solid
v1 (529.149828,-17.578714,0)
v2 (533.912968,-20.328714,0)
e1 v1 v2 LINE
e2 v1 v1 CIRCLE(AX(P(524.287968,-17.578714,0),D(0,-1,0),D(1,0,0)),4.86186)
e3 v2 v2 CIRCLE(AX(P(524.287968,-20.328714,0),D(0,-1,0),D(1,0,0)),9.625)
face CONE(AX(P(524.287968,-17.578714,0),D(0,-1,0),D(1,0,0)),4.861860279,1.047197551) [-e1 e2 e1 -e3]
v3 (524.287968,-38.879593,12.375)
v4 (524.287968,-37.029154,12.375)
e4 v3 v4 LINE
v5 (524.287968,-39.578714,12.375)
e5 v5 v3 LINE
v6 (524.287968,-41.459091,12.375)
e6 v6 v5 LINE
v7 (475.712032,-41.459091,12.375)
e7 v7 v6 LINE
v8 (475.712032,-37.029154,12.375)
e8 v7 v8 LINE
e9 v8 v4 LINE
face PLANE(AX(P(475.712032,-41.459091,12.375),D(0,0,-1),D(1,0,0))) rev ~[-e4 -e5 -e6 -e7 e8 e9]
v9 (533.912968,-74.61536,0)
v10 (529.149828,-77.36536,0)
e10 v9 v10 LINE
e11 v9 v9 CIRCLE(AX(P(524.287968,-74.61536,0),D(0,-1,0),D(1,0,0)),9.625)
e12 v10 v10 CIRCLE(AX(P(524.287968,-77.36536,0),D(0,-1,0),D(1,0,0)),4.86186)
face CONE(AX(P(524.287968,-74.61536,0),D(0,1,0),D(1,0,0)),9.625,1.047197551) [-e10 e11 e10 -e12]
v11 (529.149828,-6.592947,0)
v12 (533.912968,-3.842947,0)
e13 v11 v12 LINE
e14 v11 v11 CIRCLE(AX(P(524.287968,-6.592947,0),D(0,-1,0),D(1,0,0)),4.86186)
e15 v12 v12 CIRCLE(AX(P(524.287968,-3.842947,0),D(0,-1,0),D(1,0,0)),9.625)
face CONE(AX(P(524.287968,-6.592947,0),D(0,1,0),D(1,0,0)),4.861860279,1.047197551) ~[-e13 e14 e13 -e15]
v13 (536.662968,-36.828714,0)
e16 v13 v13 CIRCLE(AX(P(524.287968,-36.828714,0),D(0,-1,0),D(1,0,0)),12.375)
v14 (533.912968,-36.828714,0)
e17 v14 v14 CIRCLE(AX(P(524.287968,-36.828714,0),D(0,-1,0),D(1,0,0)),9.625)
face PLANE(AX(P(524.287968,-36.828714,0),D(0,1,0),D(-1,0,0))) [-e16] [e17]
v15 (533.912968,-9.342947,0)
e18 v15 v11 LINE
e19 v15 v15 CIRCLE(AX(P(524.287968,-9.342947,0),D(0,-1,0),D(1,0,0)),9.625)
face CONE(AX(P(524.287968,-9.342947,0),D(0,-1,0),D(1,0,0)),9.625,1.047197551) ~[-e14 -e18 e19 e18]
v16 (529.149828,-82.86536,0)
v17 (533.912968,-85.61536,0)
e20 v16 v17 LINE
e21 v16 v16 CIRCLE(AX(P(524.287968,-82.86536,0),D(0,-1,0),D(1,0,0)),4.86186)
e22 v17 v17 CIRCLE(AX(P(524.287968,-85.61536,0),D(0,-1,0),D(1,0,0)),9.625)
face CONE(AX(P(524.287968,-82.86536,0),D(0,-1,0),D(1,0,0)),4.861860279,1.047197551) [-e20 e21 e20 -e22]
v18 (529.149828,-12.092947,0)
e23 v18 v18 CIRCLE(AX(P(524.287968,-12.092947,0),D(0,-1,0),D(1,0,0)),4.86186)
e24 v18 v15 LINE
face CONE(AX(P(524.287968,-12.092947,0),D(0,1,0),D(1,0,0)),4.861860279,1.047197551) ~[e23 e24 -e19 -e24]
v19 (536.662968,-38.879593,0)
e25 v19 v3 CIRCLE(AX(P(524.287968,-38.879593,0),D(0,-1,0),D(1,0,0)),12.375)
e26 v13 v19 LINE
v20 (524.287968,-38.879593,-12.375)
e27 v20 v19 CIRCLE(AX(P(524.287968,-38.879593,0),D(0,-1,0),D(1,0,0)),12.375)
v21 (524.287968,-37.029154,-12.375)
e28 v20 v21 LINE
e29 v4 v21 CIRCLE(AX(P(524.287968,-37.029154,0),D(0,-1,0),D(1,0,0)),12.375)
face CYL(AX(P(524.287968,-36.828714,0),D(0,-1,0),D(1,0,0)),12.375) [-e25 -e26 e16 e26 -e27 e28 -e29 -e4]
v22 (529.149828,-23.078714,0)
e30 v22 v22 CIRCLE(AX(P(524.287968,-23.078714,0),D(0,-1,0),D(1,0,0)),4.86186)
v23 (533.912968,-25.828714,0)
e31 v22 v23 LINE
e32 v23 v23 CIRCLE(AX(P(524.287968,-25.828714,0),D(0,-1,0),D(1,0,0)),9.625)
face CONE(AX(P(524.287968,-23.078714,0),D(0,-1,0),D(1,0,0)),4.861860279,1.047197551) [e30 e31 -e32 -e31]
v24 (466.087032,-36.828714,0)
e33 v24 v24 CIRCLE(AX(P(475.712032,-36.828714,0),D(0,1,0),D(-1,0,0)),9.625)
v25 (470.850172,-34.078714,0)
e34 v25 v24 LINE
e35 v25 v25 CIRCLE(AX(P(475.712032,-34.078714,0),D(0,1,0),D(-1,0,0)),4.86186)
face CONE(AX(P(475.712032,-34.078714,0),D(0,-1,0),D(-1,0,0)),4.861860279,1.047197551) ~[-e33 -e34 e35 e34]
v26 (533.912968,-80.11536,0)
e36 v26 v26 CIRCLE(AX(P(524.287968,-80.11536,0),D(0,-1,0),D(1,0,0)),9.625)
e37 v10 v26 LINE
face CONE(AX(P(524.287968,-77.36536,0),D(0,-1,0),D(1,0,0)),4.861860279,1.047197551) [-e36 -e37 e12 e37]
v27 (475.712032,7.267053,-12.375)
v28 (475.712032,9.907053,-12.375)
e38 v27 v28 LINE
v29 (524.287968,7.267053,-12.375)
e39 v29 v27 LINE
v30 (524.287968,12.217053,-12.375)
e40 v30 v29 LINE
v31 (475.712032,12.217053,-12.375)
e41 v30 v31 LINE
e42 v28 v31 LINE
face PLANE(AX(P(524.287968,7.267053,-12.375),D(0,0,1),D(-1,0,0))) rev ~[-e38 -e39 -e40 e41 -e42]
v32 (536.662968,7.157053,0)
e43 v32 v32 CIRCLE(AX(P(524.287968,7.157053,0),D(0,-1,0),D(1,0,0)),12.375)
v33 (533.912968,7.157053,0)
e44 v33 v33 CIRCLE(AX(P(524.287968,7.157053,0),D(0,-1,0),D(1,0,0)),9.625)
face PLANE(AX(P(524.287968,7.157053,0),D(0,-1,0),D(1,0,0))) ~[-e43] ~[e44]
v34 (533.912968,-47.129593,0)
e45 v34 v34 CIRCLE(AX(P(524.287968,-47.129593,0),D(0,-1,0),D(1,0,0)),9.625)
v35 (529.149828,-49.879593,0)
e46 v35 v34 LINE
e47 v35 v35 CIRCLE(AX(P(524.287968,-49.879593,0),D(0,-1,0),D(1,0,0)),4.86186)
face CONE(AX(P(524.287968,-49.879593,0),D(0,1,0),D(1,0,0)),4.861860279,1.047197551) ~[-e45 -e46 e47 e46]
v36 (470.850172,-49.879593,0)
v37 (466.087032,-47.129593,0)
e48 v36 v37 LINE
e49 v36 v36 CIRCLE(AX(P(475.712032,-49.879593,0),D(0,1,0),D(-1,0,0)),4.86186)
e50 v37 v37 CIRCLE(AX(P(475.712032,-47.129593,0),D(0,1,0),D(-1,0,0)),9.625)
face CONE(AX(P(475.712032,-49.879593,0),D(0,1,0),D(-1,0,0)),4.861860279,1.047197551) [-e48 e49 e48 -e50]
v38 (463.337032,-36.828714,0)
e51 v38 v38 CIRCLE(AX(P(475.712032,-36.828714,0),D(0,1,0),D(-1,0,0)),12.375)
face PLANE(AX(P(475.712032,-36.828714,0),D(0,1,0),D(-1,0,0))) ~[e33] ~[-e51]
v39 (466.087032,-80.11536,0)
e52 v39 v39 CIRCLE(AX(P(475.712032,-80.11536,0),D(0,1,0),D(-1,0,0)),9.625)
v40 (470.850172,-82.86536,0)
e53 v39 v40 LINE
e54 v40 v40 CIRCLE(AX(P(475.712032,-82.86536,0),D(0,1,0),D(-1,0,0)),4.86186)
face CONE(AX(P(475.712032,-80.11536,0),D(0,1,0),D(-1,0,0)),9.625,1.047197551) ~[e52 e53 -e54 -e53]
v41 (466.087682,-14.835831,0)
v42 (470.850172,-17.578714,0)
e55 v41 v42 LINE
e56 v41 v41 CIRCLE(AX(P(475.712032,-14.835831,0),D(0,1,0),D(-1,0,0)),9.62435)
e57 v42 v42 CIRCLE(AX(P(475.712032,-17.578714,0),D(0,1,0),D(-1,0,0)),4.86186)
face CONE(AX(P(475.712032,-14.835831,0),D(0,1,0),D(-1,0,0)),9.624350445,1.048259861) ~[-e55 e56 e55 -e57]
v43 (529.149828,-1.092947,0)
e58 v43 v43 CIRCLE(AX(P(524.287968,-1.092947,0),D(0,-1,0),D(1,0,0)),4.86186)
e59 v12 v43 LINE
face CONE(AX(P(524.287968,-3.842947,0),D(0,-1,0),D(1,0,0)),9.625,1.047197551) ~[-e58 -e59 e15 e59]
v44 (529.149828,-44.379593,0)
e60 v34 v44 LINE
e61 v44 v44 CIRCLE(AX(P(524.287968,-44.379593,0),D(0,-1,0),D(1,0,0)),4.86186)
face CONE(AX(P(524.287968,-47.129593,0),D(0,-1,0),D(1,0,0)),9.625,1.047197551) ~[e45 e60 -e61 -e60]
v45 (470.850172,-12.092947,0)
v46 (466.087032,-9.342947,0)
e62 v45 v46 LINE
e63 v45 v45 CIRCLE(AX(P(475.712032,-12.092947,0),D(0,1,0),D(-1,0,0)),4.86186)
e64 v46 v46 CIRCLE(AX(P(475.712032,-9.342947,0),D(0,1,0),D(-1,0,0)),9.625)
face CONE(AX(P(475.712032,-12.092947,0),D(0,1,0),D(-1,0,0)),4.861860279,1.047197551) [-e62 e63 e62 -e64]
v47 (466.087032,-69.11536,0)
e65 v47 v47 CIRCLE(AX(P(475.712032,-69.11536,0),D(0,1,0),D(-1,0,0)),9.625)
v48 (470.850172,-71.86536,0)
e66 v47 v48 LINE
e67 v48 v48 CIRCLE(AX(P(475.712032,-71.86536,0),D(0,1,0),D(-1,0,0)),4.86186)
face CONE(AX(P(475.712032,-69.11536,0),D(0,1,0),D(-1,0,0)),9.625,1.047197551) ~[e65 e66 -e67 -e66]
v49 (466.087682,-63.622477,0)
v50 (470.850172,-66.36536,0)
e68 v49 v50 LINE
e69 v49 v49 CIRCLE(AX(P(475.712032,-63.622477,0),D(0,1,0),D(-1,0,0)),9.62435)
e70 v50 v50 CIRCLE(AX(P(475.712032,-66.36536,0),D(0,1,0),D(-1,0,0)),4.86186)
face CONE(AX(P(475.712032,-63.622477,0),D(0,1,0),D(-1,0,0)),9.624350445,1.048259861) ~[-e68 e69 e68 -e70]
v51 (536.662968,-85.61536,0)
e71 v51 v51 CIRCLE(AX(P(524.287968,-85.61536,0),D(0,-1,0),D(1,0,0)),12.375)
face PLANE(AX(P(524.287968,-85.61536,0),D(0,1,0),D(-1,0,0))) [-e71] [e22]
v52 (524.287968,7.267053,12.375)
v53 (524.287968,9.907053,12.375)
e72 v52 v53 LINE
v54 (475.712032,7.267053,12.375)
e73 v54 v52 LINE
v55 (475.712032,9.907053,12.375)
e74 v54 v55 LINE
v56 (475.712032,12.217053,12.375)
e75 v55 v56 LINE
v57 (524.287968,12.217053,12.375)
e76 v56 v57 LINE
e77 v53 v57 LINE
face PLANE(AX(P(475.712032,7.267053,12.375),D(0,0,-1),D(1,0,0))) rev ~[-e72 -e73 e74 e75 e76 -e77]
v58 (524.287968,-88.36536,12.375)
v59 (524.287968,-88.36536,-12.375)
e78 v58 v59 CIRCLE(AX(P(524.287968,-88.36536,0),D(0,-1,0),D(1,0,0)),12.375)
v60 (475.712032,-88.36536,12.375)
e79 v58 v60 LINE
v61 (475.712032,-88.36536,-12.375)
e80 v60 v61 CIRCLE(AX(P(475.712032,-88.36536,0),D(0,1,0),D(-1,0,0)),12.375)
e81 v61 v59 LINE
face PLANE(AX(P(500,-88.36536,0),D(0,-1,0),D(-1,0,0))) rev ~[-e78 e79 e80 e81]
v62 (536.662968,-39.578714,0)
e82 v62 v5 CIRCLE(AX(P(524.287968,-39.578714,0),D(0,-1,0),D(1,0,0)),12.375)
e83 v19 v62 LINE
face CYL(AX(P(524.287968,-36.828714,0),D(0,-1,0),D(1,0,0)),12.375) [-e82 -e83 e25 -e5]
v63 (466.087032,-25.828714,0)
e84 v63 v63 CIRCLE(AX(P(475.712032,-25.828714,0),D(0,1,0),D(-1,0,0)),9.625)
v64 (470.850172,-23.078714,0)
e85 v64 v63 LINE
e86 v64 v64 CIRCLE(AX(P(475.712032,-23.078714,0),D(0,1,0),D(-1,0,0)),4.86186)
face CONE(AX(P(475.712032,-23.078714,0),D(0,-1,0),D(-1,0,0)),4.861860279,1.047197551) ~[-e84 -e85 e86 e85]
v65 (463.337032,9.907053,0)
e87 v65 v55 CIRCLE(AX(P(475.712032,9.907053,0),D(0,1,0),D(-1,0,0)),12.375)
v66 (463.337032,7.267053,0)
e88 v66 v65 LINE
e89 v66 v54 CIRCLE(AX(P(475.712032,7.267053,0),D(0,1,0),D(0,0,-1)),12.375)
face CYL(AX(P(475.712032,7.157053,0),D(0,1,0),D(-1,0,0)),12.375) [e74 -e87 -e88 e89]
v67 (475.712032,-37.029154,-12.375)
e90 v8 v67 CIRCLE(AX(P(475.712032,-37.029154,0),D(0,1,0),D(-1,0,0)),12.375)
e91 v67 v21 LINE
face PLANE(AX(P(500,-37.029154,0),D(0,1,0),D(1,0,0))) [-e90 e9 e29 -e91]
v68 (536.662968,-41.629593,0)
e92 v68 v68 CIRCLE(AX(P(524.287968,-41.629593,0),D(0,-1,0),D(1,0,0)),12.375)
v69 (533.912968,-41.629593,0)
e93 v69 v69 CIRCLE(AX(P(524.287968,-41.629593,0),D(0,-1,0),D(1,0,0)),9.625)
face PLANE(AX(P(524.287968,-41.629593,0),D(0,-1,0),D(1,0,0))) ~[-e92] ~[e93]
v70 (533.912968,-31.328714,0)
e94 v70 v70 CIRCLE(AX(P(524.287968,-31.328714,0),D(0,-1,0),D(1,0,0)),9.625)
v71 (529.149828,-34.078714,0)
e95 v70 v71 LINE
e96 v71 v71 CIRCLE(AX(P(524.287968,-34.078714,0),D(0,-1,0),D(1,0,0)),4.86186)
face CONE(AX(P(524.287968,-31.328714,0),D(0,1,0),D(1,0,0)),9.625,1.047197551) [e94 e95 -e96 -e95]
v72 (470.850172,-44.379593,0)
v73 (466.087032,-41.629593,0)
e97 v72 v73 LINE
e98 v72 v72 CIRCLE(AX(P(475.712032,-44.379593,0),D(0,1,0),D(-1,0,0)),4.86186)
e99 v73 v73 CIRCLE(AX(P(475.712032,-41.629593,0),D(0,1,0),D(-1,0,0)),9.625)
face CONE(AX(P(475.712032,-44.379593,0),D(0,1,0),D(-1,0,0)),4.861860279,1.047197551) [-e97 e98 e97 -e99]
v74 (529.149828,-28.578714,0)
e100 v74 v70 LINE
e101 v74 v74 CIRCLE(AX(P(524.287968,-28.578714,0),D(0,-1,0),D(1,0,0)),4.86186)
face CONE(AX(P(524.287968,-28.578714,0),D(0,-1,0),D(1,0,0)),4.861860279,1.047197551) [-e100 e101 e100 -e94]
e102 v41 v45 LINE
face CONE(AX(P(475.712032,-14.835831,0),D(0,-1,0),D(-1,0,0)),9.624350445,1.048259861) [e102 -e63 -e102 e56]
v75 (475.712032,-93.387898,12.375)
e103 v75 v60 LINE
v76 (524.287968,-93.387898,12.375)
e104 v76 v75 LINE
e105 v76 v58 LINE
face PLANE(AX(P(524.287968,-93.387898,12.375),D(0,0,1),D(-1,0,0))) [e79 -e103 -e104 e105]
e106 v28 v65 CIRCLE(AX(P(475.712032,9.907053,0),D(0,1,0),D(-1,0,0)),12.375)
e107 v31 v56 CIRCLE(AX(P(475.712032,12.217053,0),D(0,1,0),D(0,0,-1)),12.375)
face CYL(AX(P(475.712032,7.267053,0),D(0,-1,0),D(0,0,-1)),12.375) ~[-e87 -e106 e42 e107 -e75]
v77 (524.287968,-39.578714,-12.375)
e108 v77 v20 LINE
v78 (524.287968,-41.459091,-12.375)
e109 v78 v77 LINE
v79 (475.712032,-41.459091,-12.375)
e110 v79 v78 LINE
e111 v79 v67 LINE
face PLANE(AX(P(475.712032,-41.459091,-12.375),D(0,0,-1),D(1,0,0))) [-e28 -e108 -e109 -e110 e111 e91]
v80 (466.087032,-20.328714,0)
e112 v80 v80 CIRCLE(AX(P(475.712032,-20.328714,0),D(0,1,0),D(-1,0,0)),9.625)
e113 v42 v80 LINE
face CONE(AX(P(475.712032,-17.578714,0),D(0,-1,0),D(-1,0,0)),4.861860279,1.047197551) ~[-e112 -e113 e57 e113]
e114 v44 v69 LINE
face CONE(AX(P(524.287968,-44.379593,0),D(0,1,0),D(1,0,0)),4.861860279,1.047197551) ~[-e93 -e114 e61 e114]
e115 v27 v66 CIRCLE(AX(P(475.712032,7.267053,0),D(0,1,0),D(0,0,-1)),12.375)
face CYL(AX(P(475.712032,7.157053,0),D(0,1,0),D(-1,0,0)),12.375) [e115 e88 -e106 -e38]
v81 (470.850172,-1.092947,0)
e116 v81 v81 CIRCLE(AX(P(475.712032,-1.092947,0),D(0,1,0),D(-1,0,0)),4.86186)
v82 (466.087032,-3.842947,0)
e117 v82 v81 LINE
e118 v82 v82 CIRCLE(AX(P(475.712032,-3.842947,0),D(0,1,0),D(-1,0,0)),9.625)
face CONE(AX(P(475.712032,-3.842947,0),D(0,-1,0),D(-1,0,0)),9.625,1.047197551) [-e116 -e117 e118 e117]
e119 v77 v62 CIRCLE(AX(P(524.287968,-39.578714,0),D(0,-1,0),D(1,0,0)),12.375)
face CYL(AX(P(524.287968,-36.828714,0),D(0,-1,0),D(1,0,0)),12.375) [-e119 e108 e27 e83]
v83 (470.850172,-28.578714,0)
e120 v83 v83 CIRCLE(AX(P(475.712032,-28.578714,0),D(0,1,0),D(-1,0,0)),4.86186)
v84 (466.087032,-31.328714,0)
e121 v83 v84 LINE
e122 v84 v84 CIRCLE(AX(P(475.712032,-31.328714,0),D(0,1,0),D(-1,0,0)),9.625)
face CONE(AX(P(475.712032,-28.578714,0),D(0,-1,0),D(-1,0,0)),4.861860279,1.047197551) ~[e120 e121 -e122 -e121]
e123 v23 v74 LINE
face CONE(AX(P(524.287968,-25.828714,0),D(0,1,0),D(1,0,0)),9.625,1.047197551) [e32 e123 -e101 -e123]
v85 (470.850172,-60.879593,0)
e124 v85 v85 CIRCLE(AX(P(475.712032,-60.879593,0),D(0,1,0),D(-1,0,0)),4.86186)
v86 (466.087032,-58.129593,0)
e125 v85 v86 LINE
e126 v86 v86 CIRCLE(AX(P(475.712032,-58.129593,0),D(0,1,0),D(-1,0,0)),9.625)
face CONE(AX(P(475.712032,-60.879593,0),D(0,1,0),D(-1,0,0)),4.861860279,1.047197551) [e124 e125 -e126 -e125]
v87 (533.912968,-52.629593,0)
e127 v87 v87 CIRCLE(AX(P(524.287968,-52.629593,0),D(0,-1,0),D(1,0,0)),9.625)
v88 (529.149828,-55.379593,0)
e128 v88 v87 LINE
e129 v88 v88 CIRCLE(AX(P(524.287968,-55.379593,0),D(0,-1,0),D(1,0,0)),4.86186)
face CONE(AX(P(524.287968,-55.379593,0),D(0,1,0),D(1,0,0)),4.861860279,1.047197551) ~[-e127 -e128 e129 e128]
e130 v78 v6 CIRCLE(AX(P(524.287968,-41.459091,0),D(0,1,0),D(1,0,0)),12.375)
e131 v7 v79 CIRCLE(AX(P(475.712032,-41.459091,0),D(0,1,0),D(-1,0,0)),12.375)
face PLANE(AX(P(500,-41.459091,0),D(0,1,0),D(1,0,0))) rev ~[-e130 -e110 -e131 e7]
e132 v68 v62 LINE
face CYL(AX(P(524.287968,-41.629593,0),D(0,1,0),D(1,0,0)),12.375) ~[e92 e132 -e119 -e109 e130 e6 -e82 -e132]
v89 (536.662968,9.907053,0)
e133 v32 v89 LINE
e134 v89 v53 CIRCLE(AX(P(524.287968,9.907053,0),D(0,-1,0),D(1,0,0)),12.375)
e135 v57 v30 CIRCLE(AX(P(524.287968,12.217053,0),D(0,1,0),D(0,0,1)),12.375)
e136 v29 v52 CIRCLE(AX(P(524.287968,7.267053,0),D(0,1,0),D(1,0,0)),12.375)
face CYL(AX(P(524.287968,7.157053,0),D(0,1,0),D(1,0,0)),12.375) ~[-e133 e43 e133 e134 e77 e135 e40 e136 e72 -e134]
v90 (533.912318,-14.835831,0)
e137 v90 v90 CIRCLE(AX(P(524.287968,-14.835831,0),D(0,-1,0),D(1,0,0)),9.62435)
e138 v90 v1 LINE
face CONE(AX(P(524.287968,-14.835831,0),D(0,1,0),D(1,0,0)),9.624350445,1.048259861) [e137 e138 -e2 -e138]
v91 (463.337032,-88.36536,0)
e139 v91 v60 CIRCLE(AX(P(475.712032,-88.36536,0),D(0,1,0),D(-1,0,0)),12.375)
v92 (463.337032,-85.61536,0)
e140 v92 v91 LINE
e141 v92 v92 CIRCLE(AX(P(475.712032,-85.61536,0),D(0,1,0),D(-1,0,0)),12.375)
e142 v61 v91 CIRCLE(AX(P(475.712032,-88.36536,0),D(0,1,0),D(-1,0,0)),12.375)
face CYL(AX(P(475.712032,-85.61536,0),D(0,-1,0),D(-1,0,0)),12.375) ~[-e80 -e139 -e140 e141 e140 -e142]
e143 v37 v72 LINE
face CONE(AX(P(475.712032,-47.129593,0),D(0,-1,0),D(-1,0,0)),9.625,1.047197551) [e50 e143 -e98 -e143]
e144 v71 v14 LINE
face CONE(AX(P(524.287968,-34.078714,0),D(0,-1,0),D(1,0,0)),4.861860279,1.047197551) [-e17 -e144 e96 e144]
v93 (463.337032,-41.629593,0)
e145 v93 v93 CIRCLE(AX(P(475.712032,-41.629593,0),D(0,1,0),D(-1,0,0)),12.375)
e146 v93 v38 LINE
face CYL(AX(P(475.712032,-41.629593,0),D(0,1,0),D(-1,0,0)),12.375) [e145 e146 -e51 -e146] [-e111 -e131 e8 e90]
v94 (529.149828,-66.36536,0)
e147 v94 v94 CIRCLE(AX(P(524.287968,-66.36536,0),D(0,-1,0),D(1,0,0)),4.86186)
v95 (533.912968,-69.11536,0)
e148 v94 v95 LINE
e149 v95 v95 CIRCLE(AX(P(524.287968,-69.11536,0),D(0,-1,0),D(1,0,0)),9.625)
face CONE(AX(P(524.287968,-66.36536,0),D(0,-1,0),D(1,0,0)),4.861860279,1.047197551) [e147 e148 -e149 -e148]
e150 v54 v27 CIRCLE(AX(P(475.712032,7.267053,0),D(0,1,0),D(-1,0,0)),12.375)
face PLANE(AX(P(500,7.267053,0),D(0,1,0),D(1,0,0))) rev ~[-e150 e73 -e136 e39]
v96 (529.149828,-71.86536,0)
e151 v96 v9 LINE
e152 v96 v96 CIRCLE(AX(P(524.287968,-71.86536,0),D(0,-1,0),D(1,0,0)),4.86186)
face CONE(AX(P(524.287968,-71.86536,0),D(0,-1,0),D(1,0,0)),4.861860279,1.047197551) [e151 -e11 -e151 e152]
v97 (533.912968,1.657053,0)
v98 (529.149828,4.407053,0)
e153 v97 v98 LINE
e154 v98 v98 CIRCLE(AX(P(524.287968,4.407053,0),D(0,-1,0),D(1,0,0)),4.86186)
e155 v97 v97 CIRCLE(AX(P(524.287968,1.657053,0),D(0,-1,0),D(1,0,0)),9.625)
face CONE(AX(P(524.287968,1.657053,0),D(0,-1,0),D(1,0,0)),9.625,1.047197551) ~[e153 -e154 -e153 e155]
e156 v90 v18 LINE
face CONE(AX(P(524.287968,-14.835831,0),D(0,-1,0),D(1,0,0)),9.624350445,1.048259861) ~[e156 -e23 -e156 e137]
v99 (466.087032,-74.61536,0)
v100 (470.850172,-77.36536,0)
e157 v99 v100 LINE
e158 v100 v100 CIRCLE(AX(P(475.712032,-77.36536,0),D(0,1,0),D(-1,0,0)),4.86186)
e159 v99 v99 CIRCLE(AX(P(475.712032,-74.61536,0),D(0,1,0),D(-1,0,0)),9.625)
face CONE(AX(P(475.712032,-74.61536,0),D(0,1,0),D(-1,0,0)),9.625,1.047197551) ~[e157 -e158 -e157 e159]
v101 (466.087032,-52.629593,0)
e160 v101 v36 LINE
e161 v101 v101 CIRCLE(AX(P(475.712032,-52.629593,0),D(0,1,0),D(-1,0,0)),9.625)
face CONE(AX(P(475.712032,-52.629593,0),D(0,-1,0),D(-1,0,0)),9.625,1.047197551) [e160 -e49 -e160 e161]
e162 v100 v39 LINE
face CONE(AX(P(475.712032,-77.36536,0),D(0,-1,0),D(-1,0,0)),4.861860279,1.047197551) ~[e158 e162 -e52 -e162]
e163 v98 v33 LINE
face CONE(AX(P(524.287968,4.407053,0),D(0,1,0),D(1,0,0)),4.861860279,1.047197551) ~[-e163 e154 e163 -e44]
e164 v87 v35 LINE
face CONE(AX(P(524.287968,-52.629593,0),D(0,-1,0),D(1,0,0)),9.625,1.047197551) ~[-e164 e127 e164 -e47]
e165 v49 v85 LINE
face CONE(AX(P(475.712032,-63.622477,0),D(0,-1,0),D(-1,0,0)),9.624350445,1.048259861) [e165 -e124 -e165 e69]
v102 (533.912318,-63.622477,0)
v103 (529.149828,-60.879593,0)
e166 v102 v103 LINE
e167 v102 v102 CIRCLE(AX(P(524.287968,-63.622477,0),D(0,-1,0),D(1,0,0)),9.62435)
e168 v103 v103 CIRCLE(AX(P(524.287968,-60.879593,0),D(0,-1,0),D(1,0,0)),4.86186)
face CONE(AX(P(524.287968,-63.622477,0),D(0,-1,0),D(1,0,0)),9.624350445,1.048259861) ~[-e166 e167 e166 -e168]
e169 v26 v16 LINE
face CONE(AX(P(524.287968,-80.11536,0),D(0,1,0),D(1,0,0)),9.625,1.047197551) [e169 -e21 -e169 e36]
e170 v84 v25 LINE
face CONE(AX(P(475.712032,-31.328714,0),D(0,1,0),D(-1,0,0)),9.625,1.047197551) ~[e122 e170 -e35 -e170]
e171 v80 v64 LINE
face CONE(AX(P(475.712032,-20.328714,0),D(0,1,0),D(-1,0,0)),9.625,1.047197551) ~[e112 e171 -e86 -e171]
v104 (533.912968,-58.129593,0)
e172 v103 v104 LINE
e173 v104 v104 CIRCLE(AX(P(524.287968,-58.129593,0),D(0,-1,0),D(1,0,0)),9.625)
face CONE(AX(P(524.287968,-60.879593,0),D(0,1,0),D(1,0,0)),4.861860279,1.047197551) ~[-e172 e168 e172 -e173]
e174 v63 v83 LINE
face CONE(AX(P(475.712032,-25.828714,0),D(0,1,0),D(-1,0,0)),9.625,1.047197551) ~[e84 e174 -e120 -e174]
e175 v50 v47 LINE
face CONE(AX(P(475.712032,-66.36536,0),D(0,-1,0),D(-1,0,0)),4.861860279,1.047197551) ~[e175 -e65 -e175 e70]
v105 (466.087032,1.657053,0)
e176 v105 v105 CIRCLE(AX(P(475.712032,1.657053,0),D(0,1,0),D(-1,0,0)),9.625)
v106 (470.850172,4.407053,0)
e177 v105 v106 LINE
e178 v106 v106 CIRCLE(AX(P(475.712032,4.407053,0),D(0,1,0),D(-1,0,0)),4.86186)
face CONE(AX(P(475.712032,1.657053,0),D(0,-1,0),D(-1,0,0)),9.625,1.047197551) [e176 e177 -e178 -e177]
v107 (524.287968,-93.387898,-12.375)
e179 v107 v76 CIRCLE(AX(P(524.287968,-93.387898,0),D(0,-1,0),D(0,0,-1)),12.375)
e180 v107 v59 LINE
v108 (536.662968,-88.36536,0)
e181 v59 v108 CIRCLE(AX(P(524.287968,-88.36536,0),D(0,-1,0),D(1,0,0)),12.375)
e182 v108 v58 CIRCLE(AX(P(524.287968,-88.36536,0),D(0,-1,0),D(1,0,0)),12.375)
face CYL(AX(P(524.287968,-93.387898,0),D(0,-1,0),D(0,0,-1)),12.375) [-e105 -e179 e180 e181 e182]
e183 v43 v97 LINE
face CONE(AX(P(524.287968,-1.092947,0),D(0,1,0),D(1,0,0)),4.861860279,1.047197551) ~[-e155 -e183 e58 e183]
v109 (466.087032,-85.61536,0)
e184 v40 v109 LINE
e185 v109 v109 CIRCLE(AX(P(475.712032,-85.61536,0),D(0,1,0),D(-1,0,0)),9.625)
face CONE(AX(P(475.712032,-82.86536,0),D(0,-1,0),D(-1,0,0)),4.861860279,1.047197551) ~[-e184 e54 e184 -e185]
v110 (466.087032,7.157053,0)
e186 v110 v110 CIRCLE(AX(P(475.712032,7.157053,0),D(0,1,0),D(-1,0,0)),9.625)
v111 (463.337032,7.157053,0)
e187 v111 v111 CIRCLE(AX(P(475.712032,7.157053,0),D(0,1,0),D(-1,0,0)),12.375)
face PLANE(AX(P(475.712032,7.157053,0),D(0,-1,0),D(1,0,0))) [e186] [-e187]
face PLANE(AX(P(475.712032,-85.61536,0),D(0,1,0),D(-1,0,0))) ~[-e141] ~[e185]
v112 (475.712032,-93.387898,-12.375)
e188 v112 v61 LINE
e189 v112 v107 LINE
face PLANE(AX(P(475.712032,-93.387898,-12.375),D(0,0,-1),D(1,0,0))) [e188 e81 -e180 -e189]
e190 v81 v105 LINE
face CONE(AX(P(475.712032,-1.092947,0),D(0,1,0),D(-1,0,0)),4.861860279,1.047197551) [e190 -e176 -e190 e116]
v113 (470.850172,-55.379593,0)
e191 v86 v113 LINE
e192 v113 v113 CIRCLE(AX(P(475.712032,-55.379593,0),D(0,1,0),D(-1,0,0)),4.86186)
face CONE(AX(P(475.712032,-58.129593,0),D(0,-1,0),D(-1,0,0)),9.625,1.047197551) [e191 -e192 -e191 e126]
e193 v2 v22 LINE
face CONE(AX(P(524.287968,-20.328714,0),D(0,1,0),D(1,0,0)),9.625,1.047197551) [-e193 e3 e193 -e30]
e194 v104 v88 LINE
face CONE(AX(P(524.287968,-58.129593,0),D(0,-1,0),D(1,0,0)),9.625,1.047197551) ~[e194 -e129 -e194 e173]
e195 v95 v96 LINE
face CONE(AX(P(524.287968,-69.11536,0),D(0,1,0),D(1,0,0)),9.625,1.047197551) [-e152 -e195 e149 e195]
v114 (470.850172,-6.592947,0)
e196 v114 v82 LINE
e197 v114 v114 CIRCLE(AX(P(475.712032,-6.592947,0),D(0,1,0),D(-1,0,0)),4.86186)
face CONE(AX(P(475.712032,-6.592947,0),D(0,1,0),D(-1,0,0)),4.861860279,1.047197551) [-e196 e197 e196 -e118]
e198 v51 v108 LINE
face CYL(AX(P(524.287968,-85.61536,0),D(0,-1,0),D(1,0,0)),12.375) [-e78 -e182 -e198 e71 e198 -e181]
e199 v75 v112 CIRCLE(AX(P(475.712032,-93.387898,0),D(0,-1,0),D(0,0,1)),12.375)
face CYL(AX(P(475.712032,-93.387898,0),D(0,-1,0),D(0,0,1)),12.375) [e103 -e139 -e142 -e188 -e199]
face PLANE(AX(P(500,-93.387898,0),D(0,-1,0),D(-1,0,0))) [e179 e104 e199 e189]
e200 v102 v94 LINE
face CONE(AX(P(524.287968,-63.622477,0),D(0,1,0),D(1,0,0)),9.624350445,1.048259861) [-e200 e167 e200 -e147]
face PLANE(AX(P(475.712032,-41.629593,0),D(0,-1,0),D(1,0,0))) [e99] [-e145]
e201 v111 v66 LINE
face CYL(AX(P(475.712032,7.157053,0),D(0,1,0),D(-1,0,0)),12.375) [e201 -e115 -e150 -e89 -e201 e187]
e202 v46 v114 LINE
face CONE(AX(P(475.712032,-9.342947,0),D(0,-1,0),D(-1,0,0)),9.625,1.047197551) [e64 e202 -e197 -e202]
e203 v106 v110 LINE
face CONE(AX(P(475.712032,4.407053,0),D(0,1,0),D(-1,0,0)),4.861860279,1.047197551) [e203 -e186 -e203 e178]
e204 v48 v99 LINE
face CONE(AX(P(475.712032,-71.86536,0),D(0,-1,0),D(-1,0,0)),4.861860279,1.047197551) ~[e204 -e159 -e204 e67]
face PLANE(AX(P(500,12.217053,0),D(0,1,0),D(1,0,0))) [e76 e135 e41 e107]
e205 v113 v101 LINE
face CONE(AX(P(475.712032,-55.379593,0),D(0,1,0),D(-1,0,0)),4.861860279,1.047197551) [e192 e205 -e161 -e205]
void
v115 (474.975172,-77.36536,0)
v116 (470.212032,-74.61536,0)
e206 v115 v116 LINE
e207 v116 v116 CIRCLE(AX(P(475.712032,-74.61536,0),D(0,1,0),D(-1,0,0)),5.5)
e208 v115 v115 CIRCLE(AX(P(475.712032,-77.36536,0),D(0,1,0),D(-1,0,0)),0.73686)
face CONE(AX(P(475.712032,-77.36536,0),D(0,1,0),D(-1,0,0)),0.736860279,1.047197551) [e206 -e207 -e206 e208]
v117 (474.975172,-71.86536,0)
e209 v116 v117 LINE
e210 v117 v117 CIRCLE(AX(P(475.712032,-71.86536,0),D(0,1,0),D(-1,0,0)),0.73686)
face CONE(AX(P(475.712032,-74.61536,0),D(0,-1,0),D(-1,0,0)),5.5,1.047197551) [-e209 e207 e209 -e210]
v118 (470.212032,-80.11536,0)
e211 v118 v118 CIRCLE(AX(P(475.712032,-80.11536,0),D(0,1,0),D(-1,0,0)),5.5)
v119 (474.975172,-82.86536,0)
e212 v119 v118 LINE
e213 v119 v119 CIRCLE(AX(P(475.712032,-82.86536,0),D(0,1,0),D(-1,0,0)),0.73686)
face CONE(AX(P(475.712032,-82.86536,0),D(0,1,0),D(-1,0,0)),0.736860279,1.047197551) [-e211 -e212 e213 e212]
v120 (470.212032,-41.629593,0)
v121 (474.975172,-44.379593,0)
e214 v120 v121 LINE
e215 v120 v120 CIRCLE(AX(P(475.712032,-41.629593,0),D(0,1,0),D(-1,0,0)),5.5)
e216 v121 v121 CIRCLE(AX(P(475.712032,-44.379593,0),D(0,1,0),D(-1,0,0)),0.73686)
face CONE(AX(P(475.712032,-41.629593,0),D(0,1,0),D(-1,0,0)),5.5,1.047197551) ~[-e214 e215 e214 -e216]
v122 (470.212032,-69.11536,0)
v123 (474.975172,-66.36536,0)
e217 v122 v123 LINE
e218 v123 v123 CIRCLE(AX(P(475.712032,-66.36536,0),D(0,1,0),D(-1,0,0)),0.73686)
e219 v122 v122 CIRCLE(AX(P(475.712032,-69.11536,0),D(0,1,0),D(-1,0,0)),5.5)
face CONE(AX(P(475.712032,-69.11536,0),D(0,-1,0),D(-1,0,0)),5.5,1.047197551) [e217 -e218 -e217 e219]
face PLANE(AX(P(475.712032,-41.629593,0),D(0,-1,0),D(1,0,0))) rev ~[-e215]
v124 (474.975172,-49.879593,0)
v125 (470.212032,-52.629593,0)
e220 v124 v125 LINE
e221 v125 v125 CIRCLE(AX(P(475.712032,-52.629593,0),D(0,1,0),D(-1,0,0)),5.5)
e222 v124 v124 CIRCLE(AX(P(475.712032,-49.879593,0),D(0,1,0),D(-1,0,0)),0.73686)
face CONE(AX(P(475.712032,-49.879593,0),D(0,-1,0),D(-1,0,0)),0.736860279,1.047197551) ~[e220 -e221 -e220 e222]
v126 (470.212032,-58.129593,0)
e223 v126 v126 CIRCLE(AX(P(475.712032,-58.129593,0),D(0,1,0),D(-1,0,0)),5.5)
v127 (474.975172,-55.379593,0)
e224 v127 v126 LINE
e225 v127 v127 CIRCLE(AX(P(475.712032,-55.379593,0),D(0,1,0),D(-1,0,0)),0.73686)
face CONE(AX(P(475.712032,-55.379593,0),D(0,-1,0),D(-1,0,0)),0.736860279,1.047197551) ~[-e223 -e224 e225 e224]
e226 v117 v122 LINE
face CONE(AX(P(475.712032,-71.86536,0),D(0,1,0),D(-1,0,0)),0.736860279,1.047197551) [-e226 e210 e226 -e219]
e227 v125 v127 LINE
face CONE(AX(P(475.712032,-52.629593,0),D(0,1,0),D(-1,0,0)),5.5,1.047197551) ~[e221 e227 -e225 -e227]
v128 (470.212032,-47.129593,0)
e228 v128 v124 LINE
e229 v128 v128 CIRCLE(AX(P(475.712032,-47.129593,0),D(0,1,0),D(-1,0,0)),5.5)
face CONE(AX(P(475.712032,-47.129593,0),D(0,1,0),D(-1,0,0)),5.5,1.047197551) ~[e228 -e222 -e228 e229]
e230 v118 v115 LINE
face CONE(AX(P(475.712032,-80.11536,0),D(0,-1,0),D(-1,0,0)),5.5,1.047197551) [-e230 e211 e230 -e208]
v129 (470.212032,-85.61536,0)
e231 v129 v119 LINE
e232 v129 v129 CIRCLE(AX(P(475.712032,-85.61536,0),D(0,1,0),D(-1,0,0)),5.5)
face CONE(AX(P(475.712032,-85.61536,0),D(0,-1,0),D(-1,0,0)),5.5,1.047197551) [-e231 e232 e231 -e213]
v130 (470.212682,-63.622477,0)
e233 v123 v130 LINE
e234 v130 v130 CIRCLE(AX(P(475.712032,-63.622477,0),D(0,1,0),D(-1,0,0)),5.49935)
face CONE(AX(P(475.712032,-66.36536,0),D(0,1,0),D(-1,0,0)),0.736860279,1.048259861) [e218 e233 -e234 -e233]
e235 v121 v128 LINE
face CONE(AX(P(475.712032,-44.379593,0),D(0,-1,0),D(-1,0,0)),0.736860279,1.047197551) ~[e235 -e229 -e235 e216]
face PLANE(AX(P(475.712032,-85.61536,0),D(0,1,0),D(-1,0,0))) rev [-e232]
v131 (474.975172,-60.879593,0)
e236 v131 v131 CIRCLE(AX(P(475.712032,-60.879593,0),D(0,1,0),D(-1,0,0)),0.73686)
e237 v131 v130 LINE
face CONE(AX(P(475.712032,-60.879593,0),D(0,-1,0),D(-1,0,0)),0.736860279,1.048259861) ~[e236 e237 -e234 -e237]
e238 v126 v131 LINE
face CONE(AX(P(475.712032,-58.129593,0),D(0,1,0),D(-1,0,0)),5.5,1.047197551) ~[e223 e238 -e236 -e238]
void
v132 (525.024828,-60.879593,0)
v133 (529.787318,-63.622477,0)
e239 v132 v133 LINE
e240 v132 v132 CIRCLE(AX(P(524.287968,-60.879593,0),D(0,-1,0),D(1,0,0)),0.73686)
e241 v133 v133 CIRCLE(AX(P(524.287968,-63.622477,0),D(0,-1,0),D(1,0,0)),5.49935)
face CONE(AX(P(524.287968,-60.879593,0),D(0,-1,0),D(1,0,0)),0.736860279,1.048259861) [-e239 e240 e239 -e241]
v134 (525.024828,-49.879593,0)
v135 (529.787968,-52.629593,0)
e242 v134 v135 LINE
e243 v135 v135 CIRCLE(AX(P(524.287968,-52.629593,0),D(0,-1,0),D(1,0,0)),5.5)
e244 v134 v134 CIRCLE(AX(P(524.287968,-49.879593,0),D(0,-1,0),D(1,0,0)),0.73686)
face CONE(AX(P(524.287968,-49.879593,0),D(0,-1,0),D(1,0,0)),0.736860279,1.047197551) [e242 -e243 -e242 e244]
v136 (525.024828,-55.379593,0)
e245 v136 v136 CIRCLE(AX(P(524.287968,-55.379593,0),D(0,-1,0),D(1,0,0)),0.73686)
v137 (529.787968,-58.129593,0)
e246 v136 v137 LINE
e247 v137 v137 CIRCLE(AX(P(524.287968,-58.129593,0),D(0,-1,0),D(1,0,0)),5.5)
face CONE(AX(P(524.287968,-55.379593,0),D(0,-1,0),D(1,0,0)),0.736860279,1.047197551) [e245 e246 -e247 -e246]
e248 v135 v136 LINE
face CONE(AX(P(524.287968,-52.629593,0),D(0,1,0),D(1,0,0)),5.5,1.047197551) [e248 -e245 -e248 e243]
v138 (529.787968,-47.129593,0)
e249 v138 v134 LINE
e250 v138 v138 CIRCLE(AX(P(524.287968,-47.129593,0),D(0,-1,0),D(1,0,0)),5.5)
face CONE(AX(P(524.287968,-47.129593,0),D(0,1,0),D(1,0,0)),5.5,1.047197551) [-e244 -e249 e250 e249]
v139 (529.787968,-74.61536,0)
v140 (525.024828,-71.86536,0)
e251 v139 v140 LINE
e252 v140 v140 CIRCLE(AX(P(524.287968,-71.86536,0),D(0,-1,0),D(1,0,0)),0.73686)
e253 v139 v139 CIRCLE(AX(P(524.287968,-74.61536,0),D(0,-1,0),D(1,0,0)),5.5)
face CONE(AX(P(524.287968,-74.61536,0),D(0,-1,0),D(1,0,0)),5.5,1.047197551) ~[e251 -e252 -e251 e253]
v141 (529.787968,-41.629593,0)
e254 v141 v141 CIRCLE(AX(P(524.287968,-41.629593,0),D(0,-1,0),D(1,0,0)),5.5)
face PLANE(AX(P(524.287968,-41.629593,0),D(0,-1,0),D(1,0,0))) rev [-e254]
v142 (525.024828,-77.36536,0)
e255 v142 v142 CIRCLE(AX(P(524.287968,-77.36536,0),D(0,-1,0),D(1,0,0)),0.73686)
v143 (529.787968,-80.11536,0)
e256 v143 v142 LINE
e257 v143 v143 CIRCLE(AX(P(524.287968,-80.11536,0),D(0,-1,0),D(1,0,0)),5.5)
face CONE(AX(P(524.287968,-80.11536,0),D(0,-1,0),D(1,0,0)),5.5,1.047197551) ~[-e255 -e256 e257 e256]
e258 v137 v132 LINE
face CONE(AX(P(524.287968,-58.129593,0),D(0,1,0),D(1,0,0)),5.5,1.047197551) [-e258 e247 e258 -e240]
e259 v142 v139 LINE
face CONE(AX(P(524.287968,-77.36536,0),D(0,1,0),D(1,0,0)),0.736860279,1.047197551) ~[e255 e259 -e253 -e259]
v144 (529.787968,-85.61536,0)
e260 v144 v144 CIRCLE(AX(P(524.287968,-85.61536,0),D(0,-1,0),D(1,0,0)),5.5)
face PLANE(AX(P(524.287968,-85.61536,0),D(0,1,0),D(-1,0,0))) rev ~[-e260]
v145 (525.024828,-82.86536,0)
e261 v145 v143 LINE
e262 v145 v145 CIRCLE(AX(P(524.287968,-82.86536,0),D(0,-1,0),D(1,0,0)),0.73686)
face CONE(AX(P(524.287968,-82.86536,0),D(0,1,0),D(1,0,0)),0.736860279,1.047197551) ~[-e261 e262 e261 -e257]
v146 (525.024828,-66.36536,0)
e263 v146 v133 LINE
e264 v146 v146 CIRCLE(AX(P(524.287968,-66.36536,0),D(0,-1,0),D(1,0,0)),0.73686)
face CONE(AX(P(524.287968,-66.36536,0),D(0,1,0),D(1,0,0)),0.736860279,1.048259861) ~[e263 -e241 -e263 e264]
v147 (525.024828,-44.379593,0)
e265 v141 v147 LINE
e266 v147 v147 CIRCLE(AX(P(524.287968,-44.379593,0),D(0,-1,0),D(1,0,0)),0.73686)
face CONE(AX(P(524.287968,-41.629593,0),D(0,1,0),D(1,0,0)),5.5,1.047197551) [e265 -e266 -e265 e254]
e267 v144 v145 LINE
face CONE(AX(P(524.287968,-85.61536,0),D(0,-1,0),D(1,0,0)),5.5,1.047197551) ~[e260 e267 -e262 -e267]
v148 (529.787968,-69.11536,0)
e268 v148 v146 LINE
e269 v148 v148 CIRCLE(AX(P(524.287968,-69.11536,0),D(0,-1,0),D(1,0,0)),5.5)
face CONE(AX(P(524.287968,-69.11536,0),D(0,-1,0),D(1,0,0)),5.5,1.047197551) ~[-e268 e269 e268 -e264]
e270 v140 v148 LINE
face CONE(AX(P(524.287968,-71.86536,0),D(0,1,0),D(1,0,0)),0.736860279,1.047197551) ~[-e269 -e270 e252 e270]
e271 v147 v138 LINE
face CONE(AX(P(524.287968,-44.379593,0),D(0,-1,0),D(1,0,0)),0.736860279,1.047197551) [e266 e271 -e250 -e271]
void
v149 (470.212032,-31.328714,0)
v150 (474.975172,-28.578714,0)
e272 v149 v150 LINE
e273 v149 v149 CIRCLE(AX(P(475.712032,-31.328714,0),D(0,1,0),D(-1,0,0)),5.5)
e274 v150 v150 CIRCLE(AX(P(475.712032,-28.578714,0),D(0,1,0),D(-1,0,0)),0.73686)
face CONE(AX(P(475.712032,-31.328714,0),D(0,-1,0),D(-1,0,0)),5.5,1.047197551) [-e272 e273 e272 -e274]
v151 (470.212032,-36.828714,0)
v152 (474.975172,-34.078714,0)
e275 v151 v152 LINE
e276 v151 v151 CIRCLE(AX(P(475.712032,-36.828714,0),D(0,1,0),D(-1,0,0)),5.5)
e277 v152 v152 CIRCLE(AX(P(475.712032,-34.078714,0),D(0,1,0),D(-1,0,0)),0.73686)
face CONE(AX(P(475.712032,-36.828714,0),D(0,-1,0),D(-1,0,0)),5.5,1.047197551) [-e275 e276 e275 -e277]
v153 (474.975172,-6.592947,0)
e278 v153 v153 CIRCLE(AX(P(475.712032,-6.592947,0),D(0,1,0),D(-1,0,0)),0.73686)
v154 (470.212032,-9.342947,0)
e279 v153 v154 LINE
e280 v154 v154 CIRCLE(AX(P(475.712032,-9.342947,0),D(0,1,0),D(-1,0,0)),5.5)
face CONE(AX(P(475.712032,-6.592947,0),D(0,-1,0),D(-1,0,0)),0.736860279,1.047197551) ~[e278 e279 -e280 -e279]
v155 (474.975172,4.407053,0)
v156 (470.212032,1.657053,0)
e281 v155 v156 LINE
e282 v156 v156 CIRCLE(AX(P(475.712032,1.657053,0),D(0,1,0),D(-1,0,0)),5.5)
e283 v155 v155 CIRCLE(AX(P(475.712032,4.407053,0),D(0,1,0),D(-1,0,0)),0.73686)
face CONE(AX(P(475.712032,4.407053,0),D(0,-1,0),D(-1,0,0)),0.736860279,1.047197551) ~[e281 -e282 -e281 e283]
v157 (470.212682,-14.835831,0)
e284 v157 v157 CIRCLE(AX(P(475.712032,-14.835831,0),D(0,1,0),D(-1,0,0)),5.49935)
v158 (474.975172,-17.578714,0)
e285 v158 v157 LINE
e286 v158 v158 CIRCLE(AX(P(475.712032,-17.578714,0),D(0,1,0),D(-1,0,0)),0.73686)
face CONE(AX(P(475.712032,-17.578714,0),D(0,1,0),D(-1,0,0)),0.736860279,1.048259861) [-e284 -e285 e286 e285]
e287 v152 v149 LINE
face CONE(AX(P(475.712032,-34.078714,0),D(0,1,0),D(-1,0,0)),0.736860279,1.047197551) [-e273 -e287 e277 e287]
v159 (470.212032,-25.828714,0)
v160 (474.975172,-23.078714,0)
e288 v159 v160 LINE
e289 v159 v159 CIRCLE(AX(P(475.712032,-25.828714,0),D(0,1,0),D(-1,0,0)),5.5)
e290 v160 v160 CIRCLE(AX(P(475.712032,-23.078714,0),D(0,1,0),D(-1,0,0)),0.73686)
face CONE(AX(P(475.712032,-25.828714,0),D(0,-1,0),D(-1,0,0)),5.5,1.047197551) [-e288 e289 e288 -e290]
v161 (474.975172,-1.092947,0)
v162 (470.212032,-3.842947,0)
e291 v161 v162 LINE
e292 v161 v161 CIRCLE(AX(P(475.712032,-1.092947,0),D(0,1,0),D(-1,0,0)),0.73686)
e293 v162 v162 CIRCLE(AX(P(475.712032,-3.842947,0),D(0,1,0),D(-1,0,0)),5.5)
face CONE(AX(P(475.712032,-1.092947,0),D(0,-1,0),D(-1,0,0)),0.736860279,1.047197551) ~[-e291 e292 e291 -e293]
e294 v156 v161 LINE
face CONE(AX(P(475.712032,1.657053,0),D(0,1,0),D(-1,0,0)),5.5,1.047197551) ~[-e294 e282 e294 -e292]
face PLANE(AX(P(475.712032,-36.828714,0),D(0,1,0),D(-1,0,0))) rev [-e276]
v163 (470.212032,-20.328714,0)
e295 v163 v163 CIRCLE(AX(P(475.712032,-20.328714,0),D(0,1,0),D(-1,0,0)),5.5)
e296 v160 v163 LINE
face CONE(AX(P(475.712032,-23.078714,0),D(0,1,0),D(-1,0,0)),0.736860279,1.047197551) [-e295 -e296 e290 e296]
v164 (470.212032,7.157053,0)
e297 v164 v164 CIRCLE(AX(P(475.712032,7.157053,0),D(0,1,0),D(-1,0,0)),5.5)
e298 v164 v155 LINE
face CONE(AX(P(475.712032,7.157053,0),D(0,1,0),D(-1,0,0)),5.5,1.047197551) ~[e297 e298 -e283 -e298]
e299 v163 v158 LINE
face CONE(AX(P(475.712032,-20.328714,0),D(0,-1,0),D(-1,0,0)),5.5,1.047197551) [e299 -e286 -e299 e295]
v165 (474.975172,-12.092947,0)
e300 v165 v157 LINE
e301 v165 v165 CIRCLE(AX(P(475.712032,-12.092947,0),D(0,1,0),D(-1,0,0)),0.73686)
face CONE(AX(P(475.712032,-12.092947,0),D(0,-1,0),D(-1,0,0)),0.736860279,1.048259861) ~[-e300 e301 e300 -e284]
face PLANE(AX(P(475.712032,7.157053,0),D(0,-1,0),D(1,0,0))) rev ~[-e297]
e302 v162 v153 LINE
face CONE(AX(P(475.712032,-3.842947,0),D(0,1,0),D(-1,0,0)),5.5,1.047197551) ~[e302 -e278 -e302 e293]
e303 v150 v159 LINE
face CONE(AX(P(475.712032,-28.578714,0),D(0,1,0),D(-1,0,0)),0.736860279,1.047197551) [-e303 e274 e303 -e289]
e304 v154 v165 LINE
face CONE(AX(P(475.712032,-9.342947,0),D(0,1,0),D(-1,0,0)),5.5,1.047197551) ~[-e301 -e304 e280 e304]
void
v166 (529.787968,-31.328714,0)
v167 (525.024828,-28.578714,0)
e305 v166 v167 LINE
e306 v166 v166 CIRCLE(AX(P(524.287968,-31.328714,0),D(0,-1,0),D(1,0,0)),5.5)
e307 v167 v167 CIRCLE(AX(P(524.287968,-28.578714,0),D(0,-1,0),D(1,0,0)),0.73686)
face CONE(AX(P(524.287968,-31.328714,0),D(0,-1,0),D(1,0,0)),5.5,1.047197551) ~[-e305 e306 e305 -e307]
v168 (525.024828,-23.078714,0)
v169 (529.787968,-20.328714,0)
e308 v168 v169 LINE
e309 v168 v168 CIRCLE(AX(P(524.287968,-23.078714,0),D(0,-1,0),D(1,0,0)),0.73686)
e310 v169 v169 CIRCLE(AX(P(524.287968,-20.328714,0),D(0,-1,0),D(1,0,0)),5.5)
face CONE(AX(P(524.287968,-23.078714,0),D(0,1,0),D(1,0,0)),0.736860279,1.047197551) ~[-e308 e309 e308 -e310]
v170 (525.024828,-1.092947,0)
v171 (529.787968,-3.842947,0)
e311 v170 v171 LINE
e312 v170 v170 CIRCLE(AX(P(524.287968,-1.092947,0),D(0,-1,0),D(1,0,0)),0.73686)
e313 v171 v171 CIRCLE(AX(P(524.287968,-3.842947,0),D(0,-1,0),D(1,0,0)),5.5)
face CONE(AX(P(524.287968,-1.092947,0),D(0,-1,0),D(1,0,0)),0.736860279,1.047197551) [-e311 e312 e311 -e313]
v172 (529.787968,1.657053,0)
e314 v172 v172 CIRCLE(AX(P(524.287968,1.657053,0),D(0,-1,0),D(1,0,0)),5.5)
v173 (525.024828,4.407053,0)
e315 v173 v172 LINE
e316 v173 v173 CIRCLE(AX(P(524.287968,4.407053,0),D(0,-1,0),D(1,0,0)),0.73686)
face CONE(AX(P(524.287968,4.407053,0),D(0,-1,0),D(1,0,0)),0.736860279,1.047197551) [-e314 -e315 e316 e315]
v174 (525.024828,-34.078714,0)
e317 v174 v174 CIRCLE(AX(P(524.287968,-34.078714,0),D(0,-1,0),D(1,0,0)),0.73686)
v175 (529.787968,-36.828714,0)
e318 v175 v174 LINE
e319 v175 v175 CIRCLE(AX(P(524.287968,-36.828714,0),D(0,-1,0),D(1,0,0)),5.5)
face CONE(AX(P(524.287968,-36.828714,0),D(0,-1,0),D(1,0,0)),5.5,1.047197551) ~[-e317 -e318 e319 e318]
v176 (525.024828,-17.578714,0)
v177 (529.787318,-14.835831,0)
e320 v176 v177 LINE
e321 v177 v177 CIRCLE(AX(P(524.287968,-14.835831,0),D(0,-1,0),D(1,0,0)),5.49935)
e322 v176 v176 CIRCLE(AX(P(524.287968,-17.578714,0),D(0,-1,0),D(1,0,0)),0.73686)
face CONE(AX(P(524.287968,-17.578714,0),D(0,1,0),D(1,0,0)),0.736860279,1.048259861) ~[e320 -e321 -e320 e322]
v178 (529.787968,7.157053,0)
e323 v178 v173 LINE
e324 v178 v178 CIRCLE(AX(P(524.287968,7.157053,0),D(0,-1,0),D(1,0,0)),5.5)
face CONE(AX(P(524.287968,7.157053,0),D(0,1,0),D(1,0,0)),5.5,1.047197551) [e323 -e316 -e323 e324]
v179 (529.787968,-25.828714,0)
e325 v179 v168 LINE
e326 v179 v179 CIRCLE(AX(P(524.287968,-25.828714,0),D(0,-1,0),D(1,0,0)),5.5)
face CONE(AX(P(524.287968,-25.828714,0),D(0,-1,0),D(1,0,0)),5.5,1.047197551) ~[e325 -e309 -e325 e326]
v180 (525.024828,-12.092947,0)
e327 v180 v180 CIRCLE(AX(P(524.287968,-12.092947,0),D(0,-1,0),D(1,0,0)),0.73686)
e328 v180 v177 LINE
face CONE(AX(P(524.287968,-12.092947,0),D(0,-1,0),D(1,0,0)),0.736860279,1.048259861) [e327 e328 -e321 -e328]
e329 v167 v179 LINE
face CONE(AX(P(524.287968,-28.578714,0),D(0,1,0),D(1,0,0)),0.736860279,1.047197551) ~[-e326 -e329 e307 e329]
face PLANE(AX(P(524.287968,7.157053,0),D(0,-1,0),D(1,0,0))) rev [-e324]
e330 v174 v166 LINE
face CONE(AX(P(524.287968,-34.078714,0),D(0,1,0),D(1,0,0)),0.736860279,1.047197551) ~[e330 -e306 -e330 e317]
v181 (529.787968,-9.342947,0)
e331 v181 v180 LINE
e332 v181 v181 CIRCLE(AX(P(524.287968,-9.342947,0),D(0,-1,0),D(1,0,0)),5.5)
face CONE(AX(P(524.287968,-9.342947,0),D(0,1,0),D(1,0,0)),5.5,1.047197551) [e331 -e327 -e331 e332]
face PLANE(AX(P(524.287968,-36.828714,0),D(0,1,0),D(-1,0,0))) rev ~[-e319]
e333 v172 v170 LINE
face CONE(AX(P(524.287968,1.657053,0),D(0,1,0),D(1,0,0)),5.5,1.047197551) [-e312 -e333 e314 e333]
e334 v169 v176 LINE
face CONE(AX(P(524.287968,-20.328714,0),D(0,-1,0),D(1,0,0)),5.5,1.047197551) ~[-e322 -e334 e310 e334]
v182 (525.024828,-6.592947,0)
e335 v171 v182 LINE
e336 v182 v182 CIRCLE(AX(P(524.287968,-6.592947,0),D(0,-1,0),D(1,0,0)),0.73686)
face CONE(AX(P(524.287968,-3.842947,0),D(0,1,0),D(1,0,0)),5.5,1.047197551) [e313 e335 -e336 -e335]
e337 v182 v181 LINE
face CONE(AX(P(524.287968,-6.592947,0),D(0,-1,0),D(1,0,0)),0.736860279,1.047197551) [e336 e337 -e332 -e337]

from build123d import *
from build123d.topology import SkipClean

# Parameters (mm, degrees)
BOSS_EXTRUDE9_START       = 91.318875688
BOSS_EXTRUDE9_DEPTH       = 91.318875688
BOSS_EXTRUDE10_DEPTH      = 40
BOSS_EXTRUDE10_DEPTH_BACK = 40.54431727
SKETCH11_W                = 883.198828216
SKETCH11_H                = 450
BOSS_EXTRUDE11_DEPTH      = 42
BOSS_EXTRUDE11_DEPTH_BACK = 48
SCALE1_SCALE              = 0.055


with BuildPart() as part:
    # Sketch1 → Revolve1 (revolve)
    with BuildSketch(Plane.XY):
        Polygon((-166.599414108, 5.011103152), (58.400585892, 5.011103152), (58.400585892, 55.011103152), (-41.599414108, 55.011103152), (45.00312627, 105.011103152), (-41.599414108, 155.011103152), (45.00312627, 205.011103152), (-41.599414108, 255.011103152), (45.00312627, 305.011103152), (-41.599414108, 355.011103152), (45.00312627, 405.011103152), (-41.587604021, 454.881711508), (-116.587604021, 454.881711508), (-29.99687373, 405.011103152), (-116.599414108, 355.011103152), (-29.99687373, 305.011103152), (-116.599414108, 255.011103152), (-29.99687373, 205.011103152), (-116.599414108, 155.011103152), (-29.99687373, 105.011103152), (-116.599414108, 55.011103152), (-166.599414108, 55.011103152), align=None)
    revolve1 = revolve(axis=Axis((58.400585892, 5.011103152, 0), (0, 1, 0)))

    # Mirror1: Revolve1 across plane
    add(revolve1.mirror(Plane(origin=(-116.587604021, 454.881711508, 0), x_dir=(0, 0, 1), z_dir=(0, -1, 0))))


with BuildPart() as body_2:
    # Mirror25: mirrored copy
    add(part.part.mirror(Plane(origin=(500, 0, 0), x_dir=(0, 0, 1), z_dir=(1, 0, 0))))


with BuildPart() as body_3:
    # Mirror28: mirrored copy
    add(part.part.mirror(Plane.ZX.offset(11.366748274)))


with BuildPart() as body_4:
    # Mirror28 2: mirrored copy
    add(body_2.part.mirror(Plane.ZX.offset(11.366748274)))


with BuildPart() as part_1:
    add(part.part)

    # Combine2: union body 3
    add(body_3.part)



with BuildPart() as body_2_1:
    add(body_2.part)

    # Combine3: union body 4
    add(body_4.part)


with BuildPart() as part_2:
    with SkipClean():  # the faces are left unmerged after this step: merging them gives an invalid solid
        add(part_1.part)

        add(body_2_1.part)  # Boss-Extrude9 merges body 2
        # Sketch23 → Boss-Extrude9 (add)
        with BuildSketch(Plane(origin=(0, -882.018823317, 0), x_dir=(-1, 0, 0), z_dir=(0, -1, 0)).offset(BOSS_EXTRUDE9_START)):
            with BuildLine():
                Line((-58.400585892, 225), (-941.599414108, 225))
                ThreePointArc((-941.599414108, 225), (-1166.599414108, 0), (-941.599414108, -225))
                Line((-941.599414108, -225), (-58.400585892, -225))
                ThreePointArc((-58.400585892, -225), (166.599414108, 0), (-58.400585892, 225))
            make_face()
        extrude(amount=-BOSS_EXTRUDE9_DEPTH)

    # Sketch11 → Boss-Extrude10 (add, two sides: drawn at the far end of the back side and taken through both)
    with SkipClean():  # the faces are left unmerged after this step: merging them gives an invalid solid
        with BuildSketch(Plane(origin=(0, 11.366748274, 0), x_dir=(1, 0, 0), z_dir=(0, 1, 0)).offset(-BOSS_EXTRUDE10_DEPTH_BACK)):
            with Locations((500, 0)):
                Rectangle(SKETCH11_W, SKETCH11_H)
        extrude(amount=BOSS_EXTRUDE10_DEPTH + BOSS_EXTRUDE10_DEPTH_BACK)

    # Sketch22 → Boss-Extrude11 (add, two sides: drawn at the far end of the back side and taken through both)
    with SkipClean():  # the faces are left unmerged after this step: merging them gives an invalid solid
        with BuildSketch(Plane(origin=(0, 904.752319865, 0), x_dir=(1, 0, 0), z_dir=(0, 1, 0)).offset(-BOSS_EXTRUDE11_DEPTH_BACK)):
            with BuildLine():
                Line((941.599414108, 225), (58.400585892, 225))
                ThreePointArc((58.400585892, 225), (-166.599414108, 0), (58.400585892, -225))
                Line((58.400585892, -225), (941.599414108, -225))
                ThreePointArc((941.599414108, -225), (1166.599414108, 0), (941.599414108, 225))
            make_face()
        extrude(amount=BOSS_EXTRUDE11_DEPTH + BOSS_EXTRUDE11_DEPTH_BACK)


with BuildPart() as part_3:
    # Scale1: scaled about (500, -42.173888946, 0)
    add(part_2.part.scale(SCALE1_SCALE).moved(Location((472.5, -39.854325054, 0))))


solid = part_3.part
